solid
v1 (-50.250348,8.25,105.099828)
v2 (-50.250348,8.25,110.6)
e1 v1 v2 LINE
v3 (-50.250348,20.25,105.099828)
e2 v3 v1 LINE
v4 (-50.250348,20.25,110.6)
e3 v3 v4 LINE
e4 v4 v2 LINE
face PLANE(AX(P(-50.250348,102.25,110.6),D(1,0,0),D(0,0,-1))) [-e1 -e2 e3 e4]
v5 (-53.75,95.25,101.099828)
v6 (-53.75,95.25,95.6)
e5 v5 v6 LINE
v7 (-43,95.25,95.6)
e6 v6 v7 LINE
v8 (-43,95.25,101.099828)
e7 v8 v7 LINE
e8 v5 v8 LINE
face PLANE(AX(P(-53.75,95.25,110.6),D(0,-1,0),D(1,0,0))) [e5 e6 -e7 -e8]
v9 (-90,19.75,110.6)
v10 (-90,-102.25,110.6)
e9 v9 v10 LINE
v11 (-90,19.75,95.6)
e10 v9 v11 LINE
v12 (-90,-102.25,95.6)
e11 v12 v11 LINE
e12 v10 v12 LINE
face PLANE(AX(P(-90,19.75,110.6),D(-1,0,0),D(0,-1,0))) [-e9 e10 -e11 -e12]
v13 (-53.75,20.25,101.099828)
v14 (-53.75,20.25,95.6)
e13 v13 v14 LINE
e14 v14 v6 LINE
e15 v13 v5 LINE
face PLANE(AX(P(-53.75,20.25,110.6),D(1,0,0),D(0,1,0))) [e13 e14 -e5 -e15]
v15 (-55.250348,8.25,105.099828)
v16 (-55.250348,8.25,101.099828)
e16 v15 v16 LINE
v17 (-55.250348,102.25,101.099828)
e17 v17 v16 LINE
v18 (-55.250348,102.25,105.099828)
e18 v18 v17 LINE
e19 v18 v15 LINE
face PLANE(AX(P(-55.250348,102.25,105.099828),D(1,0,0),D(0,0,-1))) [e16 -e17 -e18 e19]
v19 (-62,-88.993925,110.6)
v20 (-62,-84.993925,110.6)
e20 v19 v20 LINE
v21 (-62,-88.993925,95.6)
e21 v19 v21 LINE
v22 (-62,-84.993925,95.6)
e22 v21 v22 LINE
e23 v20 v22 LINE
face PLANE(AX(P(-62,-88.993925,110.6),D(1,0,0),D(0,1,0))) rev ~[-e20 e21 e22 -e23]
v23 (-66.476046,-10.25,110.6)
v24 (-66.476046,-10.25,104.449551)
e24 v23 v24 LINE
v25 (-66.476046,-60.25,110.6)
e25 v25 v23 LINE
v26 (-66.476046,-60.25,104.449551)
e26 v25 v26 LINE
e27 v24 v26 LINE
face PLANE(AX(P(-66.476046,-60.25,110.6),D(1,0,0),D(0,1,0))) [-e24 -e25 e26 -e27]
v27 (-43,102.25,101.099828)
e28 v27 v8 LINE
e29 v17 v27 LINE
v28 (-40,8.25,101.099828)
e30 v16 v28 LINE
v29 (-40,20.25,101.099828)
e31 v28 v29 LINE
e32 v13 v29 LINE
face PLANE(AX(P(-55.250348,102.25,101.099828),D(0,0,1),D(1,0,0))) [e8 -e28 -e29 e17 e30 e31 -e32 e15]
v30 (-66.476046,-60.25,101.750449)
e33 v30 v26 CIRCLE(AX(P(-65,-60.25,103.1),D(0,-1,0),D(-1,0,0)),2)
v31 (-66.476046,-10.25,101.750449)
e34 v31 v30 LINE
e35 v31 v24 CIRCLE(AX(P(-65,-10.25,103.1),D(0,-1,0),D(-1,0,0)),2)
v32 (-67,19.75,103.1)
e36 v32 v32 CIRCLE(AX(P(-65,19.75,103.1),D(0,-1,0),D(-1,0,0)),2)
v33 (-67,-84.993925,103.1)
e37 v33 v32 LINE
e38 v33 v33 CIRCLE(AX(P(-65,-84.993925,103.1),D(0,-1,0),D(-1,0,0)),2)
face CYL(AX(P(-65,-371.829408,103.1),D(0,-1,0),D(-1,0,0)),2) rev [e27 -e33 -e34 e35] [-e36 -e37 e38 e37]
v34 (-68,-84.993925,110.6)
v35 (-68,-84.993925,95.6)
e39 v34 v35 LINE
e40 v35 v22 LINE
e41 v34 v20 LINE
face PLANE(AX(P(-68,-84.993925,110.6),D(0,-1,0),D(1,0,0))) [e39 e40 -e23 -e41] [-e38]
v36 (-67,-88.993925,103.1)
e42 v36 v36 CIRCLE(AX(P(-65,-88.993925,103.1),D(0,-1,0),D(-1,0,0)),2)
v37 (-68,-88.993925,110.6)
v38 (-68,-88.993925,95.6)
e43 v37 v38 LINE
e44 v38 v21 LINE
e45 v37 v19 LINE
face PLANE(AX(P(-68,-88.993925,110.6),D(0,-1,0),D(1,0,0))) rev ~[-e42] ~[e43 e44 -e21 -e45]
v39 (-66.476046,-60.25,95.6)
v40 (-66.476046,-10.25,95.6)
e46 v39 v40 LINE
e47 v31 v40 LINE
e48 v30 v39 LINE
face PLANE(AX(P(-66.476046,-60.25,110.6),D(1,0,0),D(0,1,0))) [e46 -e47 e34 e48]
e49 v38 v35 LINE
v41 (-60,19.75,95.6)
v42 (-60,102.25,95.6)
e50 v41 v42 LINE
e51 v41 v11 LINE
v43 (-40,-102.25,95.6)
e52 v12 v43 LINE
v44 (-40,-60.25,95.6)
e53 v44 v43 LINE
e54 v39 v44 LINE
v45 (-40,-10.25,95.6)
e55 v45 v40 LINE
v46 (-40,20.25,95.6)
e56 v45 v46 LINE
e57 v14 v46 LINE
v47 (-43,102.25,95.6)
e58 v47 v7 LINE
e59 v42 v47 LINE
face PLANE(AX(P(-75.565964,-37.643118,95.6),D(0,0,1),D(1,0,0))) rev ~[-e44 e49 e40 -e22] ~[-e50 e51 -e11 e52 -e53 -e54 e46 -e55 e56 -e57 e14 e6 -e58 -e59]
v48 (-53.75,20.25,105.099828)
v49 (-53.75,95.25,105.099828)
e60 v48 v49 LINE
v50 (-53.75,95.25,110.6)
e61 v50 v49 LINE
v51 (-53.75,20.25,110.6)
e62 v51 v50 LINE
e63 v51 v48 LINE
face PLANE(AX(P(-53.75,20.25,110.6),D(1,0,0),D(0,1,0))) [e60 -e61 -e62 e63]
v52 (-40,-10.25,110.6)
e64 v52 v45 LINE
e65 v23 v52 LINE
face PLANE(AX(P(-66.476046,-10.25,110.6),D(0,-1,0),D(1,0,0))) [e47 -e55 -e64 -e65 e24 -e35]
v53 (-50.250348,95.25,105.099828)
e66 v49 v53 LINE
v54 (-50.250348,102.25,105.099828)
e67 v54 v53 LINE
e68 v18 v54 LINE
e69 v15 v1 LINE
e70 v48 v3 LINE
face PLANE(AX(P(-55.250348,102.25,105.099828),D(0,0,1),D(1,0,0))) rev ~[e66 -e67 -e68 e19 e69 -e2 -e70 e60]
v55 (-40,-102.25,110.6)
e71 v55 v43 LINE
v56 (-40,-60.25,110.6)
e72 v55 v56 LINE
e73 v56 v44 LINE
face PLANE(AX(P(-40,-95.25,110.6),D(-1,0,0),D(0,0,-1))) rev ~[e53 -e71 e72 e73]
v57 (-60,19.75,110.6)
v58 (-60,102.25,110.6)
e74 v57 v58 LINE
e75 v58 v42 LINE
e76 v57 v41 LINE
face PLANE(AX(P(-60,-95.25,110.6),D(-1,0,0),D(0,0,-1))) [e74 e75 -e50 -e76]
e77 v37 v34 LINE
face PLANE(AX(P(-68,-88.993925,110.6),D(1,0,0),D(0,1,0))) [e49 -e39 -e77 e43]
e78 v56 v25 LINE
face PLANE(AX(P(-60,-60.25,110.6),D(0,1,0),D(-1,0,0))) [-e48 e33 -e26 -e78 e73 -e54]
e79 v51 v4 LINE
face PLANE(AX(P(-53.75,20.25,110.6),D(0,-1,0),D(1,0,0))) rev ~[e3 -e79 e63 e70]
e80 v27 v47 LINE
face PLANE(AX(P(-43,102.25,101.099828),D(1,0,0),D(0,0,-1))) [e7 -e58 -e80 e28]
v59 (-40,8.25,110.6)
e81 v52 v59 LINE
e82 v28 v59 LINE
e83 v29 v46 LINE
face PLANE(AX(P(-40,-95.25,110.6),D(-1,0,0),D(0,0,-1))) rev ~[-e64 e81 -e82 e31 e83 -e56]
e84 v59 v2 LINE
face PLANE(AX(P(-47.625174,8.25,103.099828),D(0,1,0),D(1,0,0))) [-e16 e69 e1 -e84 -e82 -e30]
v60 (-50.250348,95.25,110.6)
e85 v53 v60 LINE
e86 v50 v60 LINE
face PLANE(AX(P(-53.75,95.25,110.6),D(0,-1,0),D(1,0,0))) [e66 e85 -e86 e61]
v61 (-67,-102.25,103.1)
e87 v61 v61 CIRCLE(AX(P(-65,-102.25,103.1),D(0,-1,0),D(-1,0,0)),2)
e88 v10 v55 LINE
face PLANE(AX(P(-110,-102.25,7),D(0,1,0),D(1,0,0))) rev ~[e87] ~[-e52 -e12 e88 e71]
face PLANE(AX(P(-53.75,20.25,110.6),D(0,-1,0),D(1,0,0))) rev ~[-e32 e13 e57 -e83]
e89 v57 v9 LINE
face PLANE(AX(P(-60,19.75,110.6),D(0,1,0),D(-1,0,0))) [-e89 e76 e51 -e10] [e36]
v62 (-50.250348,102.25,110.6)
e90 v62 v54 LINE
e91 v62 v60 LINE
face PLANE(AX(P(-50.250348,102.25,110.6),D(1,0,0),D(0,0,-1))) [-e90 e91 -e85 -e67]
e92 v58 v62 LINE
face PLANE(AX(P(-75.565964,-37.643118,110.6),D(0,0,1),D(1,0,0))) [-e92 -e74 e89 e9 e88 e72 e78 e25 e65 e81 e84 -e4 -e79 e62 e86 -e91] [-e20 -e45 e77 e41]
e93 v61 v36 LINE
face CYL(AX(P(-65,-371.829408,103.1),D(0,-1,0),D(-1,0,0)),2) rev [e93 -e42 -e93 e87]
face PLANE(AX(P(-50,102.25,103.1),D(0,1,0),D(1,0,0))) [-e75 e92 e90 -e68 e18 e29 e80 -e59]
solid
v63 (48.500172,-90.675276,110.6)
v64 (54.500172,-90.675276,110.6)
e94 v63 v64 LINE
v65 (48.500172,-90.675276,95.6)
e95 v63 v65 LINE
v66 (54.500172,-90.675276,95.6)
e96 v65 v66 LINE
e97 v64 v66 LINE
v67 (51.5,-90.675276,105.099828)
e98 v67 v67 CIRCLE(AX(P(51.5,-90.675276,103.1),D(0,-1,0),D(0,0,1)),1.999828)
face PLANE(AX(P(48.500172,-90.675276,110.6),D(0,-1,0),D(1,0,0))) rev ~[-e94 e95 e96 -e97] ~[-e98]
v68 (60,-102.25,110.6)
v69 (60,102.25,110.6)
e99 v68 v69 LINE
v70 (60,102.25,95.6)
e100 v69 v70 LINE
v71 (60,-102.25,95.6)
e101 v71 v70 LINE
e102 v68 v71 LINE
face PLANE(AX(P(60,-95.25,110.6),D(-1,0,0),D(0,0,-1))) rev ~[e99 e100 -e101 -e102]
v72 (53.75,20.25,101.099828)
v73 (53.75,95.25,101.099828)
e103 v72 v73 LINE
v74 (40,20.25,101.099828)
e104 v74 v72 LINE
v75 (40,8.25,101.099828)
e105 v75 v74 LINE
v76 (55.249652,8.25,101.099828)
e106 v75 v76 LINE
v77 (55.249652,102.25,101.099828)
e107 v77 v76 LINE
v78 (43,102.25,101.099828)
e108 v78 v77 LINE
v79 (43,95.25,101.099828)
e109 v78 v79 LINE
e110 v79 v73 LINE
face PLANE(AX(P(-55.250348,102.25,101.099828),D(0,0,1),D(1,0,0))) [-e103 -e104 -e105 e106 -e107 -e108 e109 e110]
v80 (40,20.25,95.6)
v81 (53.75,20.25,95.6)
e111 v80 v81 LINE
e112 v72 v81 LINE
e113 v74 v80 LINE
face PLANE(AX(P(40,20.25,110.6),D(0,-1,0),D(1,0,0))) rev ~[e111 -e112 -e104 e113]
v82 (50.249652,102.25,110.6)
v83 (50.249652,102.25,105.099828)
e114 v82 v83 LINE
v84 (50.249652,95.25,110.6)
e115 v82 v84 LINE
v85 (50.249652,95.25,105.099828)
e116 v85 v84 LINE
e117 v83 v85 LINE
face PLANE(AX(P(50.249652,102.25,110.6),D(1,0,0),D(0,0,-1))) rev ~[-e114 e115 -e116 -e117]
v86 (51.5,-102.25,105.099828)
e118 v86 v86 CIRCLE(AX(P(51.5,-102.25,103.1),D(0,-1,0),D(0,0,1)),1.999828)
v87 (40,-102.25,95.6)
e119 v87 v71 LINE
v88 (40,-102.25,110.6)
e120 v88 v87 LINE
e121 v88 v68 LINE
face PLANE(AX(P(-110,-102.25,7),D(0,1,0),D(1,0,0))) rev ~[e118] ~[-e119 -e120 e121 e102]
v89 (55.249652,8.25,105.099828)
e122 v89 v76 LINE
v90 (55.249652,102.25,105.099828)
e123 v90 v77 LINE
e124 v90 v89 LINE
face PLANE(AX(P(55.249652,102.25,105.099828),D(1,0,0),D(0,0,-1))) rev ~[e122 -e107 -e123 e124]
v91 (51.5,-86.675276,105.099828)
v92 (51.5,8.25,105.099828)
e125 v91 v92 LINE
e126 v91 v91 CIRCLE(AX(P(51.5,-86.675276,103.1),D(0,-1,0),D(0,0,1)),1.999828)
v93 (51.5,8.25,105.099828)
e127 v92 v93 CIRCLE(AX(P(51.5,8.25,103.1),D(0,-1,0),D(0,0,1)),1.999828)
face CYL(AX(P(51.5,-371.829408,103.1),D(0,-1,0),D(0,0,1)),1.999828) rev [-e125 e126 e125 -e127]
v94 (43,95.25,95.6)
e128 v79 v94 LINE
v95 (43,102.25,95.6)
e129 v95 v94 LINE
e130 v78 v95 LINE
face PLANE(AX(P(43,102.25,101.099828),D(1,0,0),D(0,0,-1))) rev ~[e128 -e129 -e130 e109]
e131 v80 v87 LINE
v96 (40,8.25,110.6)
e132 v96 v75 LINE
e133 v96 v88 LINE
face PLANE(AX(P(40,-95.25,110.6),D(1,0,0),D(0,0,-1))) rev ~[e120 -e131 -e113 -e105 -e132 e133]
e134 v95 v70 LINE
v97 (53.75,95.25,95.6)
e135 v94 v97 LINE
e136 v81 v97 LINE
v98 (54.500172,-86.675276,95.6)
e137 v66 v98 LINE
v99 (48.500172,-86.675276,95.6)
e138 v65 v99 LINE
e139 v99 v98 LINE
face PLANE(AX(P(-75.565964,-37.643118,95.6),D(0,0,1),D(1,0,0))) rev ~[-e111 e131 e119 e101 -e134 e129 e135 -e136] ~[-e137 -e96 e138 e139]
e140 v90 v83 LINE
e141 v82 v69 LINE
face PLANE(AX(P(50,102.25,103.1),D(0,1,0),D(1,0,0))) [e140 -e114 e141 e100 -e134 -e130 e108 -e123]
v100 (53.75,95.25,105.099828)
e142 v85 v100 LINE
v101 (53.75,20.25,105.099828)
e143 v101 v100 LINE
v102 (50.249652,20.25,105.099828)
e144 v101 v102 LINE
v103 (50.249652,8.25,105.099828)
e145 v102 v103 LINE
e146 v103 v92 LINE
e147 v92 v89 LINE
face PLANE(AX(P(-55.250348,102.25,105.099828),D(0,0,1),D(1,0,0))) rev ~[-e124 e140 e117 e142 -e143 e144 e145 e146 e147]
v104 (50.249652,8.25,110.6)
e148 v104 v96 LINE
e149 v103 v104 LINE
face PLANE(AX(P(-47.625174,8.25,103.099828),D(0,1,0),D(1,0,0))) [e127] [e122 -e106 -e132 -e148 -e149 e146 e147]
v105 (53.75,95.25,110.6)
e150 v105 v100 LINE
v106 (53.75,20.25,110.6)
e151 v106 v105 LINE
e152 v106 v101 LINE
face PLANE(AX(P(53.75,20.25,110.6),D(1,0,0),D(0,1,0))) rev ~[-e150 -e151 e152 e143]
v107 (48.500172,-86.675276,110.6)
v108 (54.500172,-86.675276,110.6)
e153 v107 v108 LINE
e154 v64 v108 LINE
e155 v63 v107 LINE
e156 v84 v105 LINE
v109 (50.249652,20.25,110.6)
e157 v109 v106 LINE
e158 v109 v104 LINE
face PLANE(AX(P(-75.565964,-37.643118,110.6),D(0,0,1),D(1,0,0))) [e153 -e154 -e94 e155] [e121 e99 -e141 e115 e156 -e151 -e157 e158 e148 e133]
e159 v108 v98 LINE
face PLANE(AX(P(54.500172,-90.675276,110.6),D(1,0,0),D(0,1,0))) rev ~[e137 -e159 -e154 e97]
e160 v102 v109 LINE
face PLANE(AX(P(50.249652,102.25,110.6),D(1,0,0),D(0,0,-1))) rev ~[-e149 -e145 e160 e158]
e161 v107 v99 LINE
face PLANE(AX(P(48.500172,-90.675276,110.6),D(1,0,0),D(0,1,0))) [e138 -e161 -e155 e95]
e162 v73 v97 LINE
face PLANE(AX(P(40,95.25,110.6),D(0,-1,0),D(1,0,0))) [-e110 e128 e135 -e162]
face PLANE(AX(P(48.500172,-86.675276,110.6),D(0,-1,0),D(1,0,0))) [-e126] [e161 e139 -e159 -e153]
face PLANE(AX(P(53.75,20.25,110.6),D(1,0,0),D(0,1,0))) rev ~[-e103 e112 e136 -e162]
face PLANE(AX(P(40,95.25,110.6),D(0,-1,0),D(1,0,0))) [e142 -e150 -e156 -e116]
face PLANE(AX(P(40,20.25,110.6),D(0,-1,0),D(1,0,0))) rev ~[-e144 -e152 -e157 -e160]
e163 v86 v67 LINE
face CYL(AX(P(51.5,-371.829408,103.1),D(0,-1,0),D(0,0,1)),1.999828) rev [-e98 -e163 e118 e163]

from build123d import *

# Parameters (mm, degrees)
CROQUIS1_W                  = 220
CROQUIS1_H                  = 204.5
SALIENTE_EXTRUIR1_DEPTH     = 7
CROQUIS2_R                  = 11
CROQUIS2_R_2                = 10
CROQUIS2_R_3                = 14
CORTAR_EXTRUIR1_DEPTH       = 151.346474851
CROQUIS3_W                  = 6
CROQUIS3_H                  = 12
CORTAR_EXTRUIR2_DEPTH       = 10
CROQUIS4_W                  = 220
CROQUIS4_H                  = 7
SALIENTE_EXTRUIR2_DEPTH     = 150.6
CROQUIS5_W                  = 220
CROQUIS5_H                  = 7
SALIENTE_EXTRUIR3_DEPTH     = 197.5
CROQUIS6_W                  = 6
CROQUIS6_H                  = 12
CORTAR_EXTRUIR3_DEPTH       = 150.6
CROQUIS7_R                  = 2.5
CORTAR_EXTRUIR4_DEPTH       = 10
CROQUIS8_W                  = 20
CROQUIS8_H                  = 15
SALIENTE_EXTRUIR4_DEPTH     = 197.5
CROQUIS9_W                  = 110.5
CROQUIS9_H                  = 4
CORTAR_EXTRUIR5_DEPTH       = 94
CROQUIS11_R                 = 2.5
CORTAR_EXTRUIR6_DEPTH       = 10
CORTAR_EXTRUIR7_REACH       = 188.514
CROQUIS10_W                 = 13.75
CROQUIS10_H                 = 75
CORTAR_EXTRUIR8_REACH       = 282.639
CROQUIS12_W                 = 10.25034787
CROQUIS12_H                 = 5.500172095
CROQUIS12_W_2               = 10.24965213
CROQUIS13_W                 = 3
CROQUIS13_H                 = 5.499827905
CORTAR_EXTRUIR9_DEPTH       = 7
CORTAR_EXTRUIR10_DEPTH      = 15
SALIENTE_EXTRUIR5_DEPTH     = 15
CORTAR_EXTRUIR13_DEPTH      = 276.579407794
CORTAR_EXTRUIR13_DEPTH_BACK = 276.579407794
CROQUIS19_R                 = 2
CROQUIS19_R_2               = 1.999827905
CROQUIS20_W                 = 220
CROQUIS20_H                 = 95.6
CROQUIS20_H_2               = 47
CORTAR_EXTRUIR14_DEPTH      = 281.638575395
CROQUIS21_W                 = 20
CROQUIS21_H                 = 15
CROQUIS21_W_2               = 80
CROQUIS21_W_3               = 50
CORTAR_EXTRUIR15_DEPTH      = 252.671631298
CROQUIS22_W                 = 6
CROQUIS22_H                 = 4
CORTAR_EXTRUIR16_DEPTH      = 138.04036814


with BuildPart() as part:
    # Croquis1 → Saliente-Extruir1 (new body)
    with BuildSketch(Plane.XY):
        Rectangle(CROQUIS1_W, CROQUIS1_H)
    extrude(amount=SALIENTE_EXTRUIR1_DEPTH)

    # Croquis2 → Cortar-Extruir1 (cut, through all)
    with BuildSketch(Plane.XY.offset(7)):
        with Locations((-90, 62.25)):
            Circle(CROQUIS2_R)
        with Locations(Location((90, 62.25, 0), (0, 0, 180))):
            Circle(CROQUIS2_R)
        with Locations((0, 62.25)):
            Circle(CROQUIS2_R_2)
        with Locations((90, 3.25)):
            Circle(CROQUIS2_R)
        with Locations(Location((0, 3.25, 0), (0, 0, 180))):
            Circle(CROQUIS2_R_2)
        with Locations(Location((-90, 3.25, 0), (0, 0, 180))):
            Circle(CROQUIS2_R)
        with Locations((-45, -32.25)):
            Circle(CROQUIS2_R_3)
        with Locations((-45, -72.25)):
            Circle(CROQUIS2_R_3)
        with Locations((45, -59.625285127)):
            Circle(CROQUIS2_R)
    extrude(amount=-CORTAR_EXTRUIR1_DEPTH, mode=Mode.SUBTRACT)

    # Croquis3 → Cortar-Extruir2 (cut)
    with BuildSketch(Plane.XY.offset(7)):
        with Locations((-107, 96.25)):
            Rectangle(CROQUIS3_W, CROQUIS3_H)
    extrude(amount=-CORTAR_EXTRUIR2_DEPTH, mode=Mode.SUBTRACT)

    # Croquis4 → Saliente-Extruir2 (add)
    with BuildSketch(Plane.XY.offset(7)):
        with Locations((0, -98.75)):
            Rectangle(CROQUIS4_W, CROQUIS4_H)
    extrude(amount=SALIENTE_EXTRUIR2_DEPTH)

    # Croquis5 → Saliente-Extruir3 (add)
    with BuildSketch(Plane(origin=(0, -95.25, 0), x_dir=(1, 0, 0), z_dir=(0, 1, 0))):
        with Locations((0, -154.1)):
            Rectangle(CROQUIS5_W, CROQUIS5_H)
    extrude(amount=SALIENTE_EXTRUIR3_DEPTH)

    # Croquis6 → Cortar-Extruir3 (cut)
    with BuildSketch(Plane(origin=(0, 0, 150.6), x_dir=(-1, 0, 0), z_dir=(0, 0, -1))):
        with Locations((107, 96.25)):
            Rectangle(CROQUIS6_W, CROQUIS6_H)
    extrude(amount=-CORTAR_EXTRUIR3_DEPTH, mode=Mode.SUBTRACT)

    # Croquis7 → Cortar-Extruir4 (cut)
    with BuildSketch(Plane.XY.offset(157.6)):
        with Locations((-90, 72.25)):
            Circle(CROQUIS7_R)
        with Locations((-17, 72.25)):
            Circle(CROQUIS7_R)
        with Locations((-53.5, 72.25)):
            Circle(CROQUIS7_R)
        with Locations((96, 72.25)):
            Circle(CROQUIS7_R)
        with Locations((59.5, 72.25)):
            Circle(CROQUIS7_R)
        with Locations((23, 72.25)):
            Circle(CROQUIS7_R)
        with Locations((96, 42.25)):
            Circle(CROQUIS7_R)
        with Locations((59.5, 42.25)):
            Circle(CROQUIS7_R)
        with Locations((23, 42.25)):
            Circle(CROQUIS7_R)
        with Locations((-17, 42.25)):
            Circle(CROQUIS7_R)
        with Locations((-53.5, 42.25)):
            Circle(CROQUIS7_R)
        with Locations((-90, 42.25)):
            Circle(CROQUIS7_R)
        with Locations((96, 12.25)):
            Circle(CROQUIS7_R)
        with Locations((59.5, 12.25)):
            Circle(CROQUIS7_R)
        with Locations((23, 12.25)):
            Circle(CROQUIS7_R)
        with Locations((-17, 12.25)):
            Circle(CROQUIS7_R)
        with Locations((-53.5, 12.25)):
            Circle(CROQUIS7_R)
        with Locations((-90, 12.25)):
            Circle(CROQUIS7_R)
    extrude(amount=-CORTAR_EXTRUIR4_DEPTH, mode=Mode.SUBTRACT)

    # Croquis8 → Saliente-Extruir4 (add)
    with BuildSketch(Plane(origin=(0, -95.25, 0), x_dir=(1, 0, 0), z_dir=(0, 1, 0))):
        with Locations((-50, -103.1)):
            Rectangle(CROQUIS8_W, CROQUIS8_H)
        with Locations((50, -103.1)):
            Rectangle(CROQUIS8_W, CROQUIS8_H)
    extrude(amount=SALIENTE_EXTRUIR4_DEPTH)

    # Croquis9 → Cortar-Extruir5 (cut)
    with BuildSketch(Plane(origin=(0, 102.25, 0), x_dir=(1, 0, 0), z_dir=(0, 1, 0))):
        with Locations((-0.00034787, -103.099827905)):
            Rectangle(CROQUIS9_W, CROQUIS9_H)
    extrude(amount=-CORTAR_EXTRUIR5_DEPTH, mode=Mode.SUBTRACT)

    # Croquis11 → Cortar-Extruir6 (cut)
    with BuildSketch(Plane.XY.offset(157.6)):
        with Locations((-10, -77.25)):
            Circle(CROQUIS11_R)
        with Locations((10, -77.25)):
            Circle(CROQUIS11_R)
        with Locations((-63.5, -37.25)):
            Circle(CROQUIS11_R)
        with Locations((-43.5, -37.25)):
            Circle(CROQUIS11_R)
        with Locations((43.5, -37.25)):
            Circle(CROQUIS11_R)
        with Locations((63.5, -37.25)):
            Circle(CROQUIS11_R)
    extrude(amount=-CORTAR_EXTRUIR6_DEPTH, mode=Mode.SUBTRACT)

    # Cortar-Extruir7: up to this face of the body (flat: up to its plane)
    cortar_extruir7_end = Plane(part.part.faces().sort_by_distance((-50, 3.5, 95.6))[0])
    # Croquis10 → Cortar-Extruir7 (cut, up to the picked face)
    with BuildSketch(Plane.XY.offset(110.6), mode=Mode.PRIVATE) as cortar_extruir7_sk1:
        with Locations((-46.875, 57.75)):
            Rectangle(CROQUIS10_W, CROQUIS10_H)
    cortar_extruir7_tool1 = split(extrude(cortar_extruir7_sk1.sketch, amount=-CORTAR_EXTRUIR7_REACH, mode=Mode.PRIVATE), bisect_by=cortar_extruir7_end, keep=Keep.BOTH, mode=Mode.PRIVATE)
    # Croquis10 → Cortar-Extruir7 (cut, up to the picked face)
    with BuildSketch(Plane.XY.offset(110.6), mode=Mode.PRIVATE) as cortar_extruir7_sk2:
        with Locations((46.875, 57.75)):
            Rectangle(CROQUIS10_W, CROQUIS10_H)
    cortar_extruir7_tool2 = split(extrude(cortar_extruir7_sk2.sketch, amount=-CORTAR_EXTRUIR7_REACH, mode=Mode.PRIVATE), bisect_by=cortar_extruir7_end, keep=Keep.BOTH, mode=Mode.PRIVATE)
    add(cortar_extruir7_tool1.solids().sort_by(Axis((-46.875, 57.75, 110.6), (0, 0, -1)))[0], mode=Mode.SUBTRACT)
    add(cortar_extruir7_tool2.solids().sort_by(Axis((46.875, 57.75, 110.6), (0, 0, -1)))[0], mode=Mode.SUBTRACT)

    # Cortar-Extruir8: up to this face of the body (flat: up to its plane)
    cortar_extruir8_end = Plane(part.part.faces().sort_by_distance((-47.625173935, 8.25, 103.099827905))[0])
    # Croquis12 → Cortar-Extruir8 (cut, up to the picked face)
    with BuildSketch(Plane(origin=(0, 102.25, 0), x_dir=(1, 0, 0), z_dir=(0, 1, 0)), mode=Mode.PRIVATE) as cortar_extruir8_sk1:
        with Locations((-45.125173935, -107.849913953)):
            Rectangle(CROQUIS12_W, CROQUIS12_H)
    cortar_extruir8_tool1 = split(extrude(cortar_extruir8_sk1.sketch, amount=-CORTAR_EXTRUIR8_REACH, mode=Mode.PRIVATE), bisect_by=cortar_extruir8_end, keep=Keep.BOTH, mode=Mode.PRIVATE)
    # Croquis12 → Cortar-Extruir8 (cut, up to the picked face)
    with BuildSketch(Plane(origin=(0, 102.25, 0), x_dir=(1, 0, 0), z_dir=(0, 1, 0)), mode=Mode.PRIVATE) as cortar_extruir8_sk2:
        with Locations((45.124826065, -107.849913953)):
            Rectangle(CROQUIS12_W_2, CROQUIS12_H)
    cortar_extruir8_tool2 = split(extrude(cortar_extruir8_sk2.sketch, amount=-CORTAR_EXTRUIR8_REACH, mode=Mode.PRIVATE), bisect_by=cortar_extruir8_end, keep=Keep.BOTH, mode=Mode.PRIVATE)
    add(cortar_extruir8_tool1.solids().sort_by(Axis((-45.125174, 102.25, 107.849914), (0, -1, 0)))[0], mode=Mode.SUBTRACT)
    add(cortar_extruir8_tool2.solids().sort_by(Axis((45.124826, 102.25, 107.849914), (0, -1, 0)))[0], mode=Mode.SUBTRACT)

    # Croquis13 → Cortar-Extruir9 (cut)
    with BuildSketch(Plane(origin=(0, 102.25, 0), x_dir=(1, 0, 0), z_dir=(0, 1, 0))):
        with Locations((-41.5, -98.349913953)):
            Rectangle(CROQUIS13_W, CROQUIS13_H)
        with Locations((41.5, -98.349913953)):
            Rectangle(CROQUIS13_W, CROQUIS13_H)
    extrude(amount=-CORTAR_EXTRUIR9_DEPTH, mode=Mode.SUBTRACT)

    # Croquis14 → Cortar-Extruir10 (cut)
    with BuildSketch(Plane.XY.offset(110.6)):
        Polygon((-40, -10.25), (-51.479605867, -10.25), (-60, -10.25), (-60, -60.25), (-40, -60.25), align=None)
    extrude(amount=-CORTAR_EXTRUIR10_DEPTH, mode=Mode.SUBTRACT)


with BuildPart() as cortar_extruir10_piece_1:
    # of the separate pieces the step leaves, piece 1, a body of its own (cortar_extruir10_pieces)
    add(part.part.solids().sort_by_distance((-104, 102.25, 0))[0])



with BuildPart() as cortar_extruir10_piece_2:
    # of the separate pieces the step leaves, piece 2, a body of its own (cortar_extruir10_pieces)
    add(part.part.solids().sort_by_distance((-40, -10.25, 95.6))[0])


with BuildPart() as cortar_extruir10_piece_1_1:
    add(cortar_extruir10_piece_1.part)

    add(cortar_extruir10_piece_2.part)  # Saliente-Extruir5 merges Cortar-Extruir10 piece 2
    # Croquis15 → Saliente-Extruir5 (add)
    with BuildSketch(Plane.XY.offset(110.6)):
        Polygon((-60, 19.75), (-90, 19.75), (-90, -95.25), (-60, -95.25), (-60, -60.25), (-66.476045764, -60.25), (-66.476045764, -10.25), (-60, -10.25), align=None)
    extrude(amount=-SALIENTE_EXTRUIR5_DEPTH)

    # Croquis19 → Cortar-Extruir13 (cut, two sides: drawn at the far end of the back side and taken through both)
    with BuildSketch(Plane(origin=(0, -95.25, 0), x_dir=(1, 0, 0), z_dir=(0, 1, 0)).offset(-CORTAR_EXTRUIR13_DEPTH_BACK)):
        with Locations(Location((-65, -103.1, 0), (0, 0, 180))):
            Circle(CROQUIS19_R)
        with Locations(Location((51.5, -103.1, 0), (0, 0, 270))):
            Circle(CROQUIS19_R_2)
    extrude(amount=CORTAR_EXTRUIR13_DEPTH + CORTAR_EXTRUIR13_DEPTH_BACK, mode=Mode.SUBTRACT)

    # Croquis20 → Cortar-Extruir14 (cut, through all)
    with BuildSketch(Plane(origin=(0, 102.25, 0), x_dir=(1, 0, 0), z_dir=(0, 1, 0))):
        with Locations((0, -47.8)):
            Rectangle(CROQUIS20_W, CROQUIS20_H)
        with Locations((0, -134.1)):
            Rectangle(CROQUIS20_W, CROQUIS20_H_2)
    extrude(amount=-CORTAR_EXTRUIR14_DEPTH, mode=Mode.SUBTRACT)

    # Croquis21 → Cortar-Extruir15 (cut, through all)
    with BuildSketch(Plane(origin=(0, -95.25, 0), x_dir=(1, 0, 0), z_dir=(0, 1, 0))):
        with Locations((-100, -103.1)):
            Rectangle(CROQUIS21_W, CROQUIS21_H)
        with Locations((0, -103.1)):
            Rectangle(CROQUIS21_W_2, CROQUIS21_H)
        with Locations((85, -103.1)):
            Rectangle(CROQUIS21_W_3, CROQUIS21_H)
    extrude(amount=-CORTAR_EXTRUIR15_DEPTH, mode=Mode.SUBTRACT)


with BuildPart() as cortar_extruir15_piece_1:
    # of the separate pieces the step leaves, piece 1, a body of its own (cortar_extruir15_pieces)
    add(cortar_extruir10_piece_1_1.part.solids().sort_by_distance((-40, -10.25, 95.6))[0])


with BuildPart() as cortar_extruir15_piece_2:
    # of the separate pieces the step leaves, piece 2, a body of its own (cortar_extruir15_pieces)
    add(cortar_extruir10_piece_1_1.part.solids().sort_by_distance((40, -102.25, 95.6))[0])


with BuildPart() as cortar_extruir16_tool:
    # Croquis22 → Cortar-Extruir16 (new, through all)
    with BuildSketch(Plane.XY.offset(110.6)):
        with Locations((-65, -86.99392464)):
            Rectangle(CROQUIS22_W, CROQUIS22_H)
        with Locations((51.500172095, -88.675276493)):
            Rectangle(CROQUIS22_W, CROQUIS22_H)
    extrude(amount=-CORTAR_EXTRUIR16_DEPTH)


with BuildPart() as cortar_extruir15_piece_1_1:
    add(cortar_extruir15_piece_1.part)

    # Cortar-Extruir16: cut by cortar_extruir16_tool
    add(cortar_extruir16_tool.part, mode=Mode.SUBTRACT)


with BuildPart() as cortar_extruir15_piece_2_1:
    add(cortar_extruir15_piece_2.part)

    # Cortar-Extruir16: cut by cortar_extruir16_tool
    add(cortar_extruir16_tool.part, mode=Mode.SUBTRACT)


solid = Compound([cortar_extruir15_piece_1_1.part, cortar_extruir15_piece_2_1.part])
